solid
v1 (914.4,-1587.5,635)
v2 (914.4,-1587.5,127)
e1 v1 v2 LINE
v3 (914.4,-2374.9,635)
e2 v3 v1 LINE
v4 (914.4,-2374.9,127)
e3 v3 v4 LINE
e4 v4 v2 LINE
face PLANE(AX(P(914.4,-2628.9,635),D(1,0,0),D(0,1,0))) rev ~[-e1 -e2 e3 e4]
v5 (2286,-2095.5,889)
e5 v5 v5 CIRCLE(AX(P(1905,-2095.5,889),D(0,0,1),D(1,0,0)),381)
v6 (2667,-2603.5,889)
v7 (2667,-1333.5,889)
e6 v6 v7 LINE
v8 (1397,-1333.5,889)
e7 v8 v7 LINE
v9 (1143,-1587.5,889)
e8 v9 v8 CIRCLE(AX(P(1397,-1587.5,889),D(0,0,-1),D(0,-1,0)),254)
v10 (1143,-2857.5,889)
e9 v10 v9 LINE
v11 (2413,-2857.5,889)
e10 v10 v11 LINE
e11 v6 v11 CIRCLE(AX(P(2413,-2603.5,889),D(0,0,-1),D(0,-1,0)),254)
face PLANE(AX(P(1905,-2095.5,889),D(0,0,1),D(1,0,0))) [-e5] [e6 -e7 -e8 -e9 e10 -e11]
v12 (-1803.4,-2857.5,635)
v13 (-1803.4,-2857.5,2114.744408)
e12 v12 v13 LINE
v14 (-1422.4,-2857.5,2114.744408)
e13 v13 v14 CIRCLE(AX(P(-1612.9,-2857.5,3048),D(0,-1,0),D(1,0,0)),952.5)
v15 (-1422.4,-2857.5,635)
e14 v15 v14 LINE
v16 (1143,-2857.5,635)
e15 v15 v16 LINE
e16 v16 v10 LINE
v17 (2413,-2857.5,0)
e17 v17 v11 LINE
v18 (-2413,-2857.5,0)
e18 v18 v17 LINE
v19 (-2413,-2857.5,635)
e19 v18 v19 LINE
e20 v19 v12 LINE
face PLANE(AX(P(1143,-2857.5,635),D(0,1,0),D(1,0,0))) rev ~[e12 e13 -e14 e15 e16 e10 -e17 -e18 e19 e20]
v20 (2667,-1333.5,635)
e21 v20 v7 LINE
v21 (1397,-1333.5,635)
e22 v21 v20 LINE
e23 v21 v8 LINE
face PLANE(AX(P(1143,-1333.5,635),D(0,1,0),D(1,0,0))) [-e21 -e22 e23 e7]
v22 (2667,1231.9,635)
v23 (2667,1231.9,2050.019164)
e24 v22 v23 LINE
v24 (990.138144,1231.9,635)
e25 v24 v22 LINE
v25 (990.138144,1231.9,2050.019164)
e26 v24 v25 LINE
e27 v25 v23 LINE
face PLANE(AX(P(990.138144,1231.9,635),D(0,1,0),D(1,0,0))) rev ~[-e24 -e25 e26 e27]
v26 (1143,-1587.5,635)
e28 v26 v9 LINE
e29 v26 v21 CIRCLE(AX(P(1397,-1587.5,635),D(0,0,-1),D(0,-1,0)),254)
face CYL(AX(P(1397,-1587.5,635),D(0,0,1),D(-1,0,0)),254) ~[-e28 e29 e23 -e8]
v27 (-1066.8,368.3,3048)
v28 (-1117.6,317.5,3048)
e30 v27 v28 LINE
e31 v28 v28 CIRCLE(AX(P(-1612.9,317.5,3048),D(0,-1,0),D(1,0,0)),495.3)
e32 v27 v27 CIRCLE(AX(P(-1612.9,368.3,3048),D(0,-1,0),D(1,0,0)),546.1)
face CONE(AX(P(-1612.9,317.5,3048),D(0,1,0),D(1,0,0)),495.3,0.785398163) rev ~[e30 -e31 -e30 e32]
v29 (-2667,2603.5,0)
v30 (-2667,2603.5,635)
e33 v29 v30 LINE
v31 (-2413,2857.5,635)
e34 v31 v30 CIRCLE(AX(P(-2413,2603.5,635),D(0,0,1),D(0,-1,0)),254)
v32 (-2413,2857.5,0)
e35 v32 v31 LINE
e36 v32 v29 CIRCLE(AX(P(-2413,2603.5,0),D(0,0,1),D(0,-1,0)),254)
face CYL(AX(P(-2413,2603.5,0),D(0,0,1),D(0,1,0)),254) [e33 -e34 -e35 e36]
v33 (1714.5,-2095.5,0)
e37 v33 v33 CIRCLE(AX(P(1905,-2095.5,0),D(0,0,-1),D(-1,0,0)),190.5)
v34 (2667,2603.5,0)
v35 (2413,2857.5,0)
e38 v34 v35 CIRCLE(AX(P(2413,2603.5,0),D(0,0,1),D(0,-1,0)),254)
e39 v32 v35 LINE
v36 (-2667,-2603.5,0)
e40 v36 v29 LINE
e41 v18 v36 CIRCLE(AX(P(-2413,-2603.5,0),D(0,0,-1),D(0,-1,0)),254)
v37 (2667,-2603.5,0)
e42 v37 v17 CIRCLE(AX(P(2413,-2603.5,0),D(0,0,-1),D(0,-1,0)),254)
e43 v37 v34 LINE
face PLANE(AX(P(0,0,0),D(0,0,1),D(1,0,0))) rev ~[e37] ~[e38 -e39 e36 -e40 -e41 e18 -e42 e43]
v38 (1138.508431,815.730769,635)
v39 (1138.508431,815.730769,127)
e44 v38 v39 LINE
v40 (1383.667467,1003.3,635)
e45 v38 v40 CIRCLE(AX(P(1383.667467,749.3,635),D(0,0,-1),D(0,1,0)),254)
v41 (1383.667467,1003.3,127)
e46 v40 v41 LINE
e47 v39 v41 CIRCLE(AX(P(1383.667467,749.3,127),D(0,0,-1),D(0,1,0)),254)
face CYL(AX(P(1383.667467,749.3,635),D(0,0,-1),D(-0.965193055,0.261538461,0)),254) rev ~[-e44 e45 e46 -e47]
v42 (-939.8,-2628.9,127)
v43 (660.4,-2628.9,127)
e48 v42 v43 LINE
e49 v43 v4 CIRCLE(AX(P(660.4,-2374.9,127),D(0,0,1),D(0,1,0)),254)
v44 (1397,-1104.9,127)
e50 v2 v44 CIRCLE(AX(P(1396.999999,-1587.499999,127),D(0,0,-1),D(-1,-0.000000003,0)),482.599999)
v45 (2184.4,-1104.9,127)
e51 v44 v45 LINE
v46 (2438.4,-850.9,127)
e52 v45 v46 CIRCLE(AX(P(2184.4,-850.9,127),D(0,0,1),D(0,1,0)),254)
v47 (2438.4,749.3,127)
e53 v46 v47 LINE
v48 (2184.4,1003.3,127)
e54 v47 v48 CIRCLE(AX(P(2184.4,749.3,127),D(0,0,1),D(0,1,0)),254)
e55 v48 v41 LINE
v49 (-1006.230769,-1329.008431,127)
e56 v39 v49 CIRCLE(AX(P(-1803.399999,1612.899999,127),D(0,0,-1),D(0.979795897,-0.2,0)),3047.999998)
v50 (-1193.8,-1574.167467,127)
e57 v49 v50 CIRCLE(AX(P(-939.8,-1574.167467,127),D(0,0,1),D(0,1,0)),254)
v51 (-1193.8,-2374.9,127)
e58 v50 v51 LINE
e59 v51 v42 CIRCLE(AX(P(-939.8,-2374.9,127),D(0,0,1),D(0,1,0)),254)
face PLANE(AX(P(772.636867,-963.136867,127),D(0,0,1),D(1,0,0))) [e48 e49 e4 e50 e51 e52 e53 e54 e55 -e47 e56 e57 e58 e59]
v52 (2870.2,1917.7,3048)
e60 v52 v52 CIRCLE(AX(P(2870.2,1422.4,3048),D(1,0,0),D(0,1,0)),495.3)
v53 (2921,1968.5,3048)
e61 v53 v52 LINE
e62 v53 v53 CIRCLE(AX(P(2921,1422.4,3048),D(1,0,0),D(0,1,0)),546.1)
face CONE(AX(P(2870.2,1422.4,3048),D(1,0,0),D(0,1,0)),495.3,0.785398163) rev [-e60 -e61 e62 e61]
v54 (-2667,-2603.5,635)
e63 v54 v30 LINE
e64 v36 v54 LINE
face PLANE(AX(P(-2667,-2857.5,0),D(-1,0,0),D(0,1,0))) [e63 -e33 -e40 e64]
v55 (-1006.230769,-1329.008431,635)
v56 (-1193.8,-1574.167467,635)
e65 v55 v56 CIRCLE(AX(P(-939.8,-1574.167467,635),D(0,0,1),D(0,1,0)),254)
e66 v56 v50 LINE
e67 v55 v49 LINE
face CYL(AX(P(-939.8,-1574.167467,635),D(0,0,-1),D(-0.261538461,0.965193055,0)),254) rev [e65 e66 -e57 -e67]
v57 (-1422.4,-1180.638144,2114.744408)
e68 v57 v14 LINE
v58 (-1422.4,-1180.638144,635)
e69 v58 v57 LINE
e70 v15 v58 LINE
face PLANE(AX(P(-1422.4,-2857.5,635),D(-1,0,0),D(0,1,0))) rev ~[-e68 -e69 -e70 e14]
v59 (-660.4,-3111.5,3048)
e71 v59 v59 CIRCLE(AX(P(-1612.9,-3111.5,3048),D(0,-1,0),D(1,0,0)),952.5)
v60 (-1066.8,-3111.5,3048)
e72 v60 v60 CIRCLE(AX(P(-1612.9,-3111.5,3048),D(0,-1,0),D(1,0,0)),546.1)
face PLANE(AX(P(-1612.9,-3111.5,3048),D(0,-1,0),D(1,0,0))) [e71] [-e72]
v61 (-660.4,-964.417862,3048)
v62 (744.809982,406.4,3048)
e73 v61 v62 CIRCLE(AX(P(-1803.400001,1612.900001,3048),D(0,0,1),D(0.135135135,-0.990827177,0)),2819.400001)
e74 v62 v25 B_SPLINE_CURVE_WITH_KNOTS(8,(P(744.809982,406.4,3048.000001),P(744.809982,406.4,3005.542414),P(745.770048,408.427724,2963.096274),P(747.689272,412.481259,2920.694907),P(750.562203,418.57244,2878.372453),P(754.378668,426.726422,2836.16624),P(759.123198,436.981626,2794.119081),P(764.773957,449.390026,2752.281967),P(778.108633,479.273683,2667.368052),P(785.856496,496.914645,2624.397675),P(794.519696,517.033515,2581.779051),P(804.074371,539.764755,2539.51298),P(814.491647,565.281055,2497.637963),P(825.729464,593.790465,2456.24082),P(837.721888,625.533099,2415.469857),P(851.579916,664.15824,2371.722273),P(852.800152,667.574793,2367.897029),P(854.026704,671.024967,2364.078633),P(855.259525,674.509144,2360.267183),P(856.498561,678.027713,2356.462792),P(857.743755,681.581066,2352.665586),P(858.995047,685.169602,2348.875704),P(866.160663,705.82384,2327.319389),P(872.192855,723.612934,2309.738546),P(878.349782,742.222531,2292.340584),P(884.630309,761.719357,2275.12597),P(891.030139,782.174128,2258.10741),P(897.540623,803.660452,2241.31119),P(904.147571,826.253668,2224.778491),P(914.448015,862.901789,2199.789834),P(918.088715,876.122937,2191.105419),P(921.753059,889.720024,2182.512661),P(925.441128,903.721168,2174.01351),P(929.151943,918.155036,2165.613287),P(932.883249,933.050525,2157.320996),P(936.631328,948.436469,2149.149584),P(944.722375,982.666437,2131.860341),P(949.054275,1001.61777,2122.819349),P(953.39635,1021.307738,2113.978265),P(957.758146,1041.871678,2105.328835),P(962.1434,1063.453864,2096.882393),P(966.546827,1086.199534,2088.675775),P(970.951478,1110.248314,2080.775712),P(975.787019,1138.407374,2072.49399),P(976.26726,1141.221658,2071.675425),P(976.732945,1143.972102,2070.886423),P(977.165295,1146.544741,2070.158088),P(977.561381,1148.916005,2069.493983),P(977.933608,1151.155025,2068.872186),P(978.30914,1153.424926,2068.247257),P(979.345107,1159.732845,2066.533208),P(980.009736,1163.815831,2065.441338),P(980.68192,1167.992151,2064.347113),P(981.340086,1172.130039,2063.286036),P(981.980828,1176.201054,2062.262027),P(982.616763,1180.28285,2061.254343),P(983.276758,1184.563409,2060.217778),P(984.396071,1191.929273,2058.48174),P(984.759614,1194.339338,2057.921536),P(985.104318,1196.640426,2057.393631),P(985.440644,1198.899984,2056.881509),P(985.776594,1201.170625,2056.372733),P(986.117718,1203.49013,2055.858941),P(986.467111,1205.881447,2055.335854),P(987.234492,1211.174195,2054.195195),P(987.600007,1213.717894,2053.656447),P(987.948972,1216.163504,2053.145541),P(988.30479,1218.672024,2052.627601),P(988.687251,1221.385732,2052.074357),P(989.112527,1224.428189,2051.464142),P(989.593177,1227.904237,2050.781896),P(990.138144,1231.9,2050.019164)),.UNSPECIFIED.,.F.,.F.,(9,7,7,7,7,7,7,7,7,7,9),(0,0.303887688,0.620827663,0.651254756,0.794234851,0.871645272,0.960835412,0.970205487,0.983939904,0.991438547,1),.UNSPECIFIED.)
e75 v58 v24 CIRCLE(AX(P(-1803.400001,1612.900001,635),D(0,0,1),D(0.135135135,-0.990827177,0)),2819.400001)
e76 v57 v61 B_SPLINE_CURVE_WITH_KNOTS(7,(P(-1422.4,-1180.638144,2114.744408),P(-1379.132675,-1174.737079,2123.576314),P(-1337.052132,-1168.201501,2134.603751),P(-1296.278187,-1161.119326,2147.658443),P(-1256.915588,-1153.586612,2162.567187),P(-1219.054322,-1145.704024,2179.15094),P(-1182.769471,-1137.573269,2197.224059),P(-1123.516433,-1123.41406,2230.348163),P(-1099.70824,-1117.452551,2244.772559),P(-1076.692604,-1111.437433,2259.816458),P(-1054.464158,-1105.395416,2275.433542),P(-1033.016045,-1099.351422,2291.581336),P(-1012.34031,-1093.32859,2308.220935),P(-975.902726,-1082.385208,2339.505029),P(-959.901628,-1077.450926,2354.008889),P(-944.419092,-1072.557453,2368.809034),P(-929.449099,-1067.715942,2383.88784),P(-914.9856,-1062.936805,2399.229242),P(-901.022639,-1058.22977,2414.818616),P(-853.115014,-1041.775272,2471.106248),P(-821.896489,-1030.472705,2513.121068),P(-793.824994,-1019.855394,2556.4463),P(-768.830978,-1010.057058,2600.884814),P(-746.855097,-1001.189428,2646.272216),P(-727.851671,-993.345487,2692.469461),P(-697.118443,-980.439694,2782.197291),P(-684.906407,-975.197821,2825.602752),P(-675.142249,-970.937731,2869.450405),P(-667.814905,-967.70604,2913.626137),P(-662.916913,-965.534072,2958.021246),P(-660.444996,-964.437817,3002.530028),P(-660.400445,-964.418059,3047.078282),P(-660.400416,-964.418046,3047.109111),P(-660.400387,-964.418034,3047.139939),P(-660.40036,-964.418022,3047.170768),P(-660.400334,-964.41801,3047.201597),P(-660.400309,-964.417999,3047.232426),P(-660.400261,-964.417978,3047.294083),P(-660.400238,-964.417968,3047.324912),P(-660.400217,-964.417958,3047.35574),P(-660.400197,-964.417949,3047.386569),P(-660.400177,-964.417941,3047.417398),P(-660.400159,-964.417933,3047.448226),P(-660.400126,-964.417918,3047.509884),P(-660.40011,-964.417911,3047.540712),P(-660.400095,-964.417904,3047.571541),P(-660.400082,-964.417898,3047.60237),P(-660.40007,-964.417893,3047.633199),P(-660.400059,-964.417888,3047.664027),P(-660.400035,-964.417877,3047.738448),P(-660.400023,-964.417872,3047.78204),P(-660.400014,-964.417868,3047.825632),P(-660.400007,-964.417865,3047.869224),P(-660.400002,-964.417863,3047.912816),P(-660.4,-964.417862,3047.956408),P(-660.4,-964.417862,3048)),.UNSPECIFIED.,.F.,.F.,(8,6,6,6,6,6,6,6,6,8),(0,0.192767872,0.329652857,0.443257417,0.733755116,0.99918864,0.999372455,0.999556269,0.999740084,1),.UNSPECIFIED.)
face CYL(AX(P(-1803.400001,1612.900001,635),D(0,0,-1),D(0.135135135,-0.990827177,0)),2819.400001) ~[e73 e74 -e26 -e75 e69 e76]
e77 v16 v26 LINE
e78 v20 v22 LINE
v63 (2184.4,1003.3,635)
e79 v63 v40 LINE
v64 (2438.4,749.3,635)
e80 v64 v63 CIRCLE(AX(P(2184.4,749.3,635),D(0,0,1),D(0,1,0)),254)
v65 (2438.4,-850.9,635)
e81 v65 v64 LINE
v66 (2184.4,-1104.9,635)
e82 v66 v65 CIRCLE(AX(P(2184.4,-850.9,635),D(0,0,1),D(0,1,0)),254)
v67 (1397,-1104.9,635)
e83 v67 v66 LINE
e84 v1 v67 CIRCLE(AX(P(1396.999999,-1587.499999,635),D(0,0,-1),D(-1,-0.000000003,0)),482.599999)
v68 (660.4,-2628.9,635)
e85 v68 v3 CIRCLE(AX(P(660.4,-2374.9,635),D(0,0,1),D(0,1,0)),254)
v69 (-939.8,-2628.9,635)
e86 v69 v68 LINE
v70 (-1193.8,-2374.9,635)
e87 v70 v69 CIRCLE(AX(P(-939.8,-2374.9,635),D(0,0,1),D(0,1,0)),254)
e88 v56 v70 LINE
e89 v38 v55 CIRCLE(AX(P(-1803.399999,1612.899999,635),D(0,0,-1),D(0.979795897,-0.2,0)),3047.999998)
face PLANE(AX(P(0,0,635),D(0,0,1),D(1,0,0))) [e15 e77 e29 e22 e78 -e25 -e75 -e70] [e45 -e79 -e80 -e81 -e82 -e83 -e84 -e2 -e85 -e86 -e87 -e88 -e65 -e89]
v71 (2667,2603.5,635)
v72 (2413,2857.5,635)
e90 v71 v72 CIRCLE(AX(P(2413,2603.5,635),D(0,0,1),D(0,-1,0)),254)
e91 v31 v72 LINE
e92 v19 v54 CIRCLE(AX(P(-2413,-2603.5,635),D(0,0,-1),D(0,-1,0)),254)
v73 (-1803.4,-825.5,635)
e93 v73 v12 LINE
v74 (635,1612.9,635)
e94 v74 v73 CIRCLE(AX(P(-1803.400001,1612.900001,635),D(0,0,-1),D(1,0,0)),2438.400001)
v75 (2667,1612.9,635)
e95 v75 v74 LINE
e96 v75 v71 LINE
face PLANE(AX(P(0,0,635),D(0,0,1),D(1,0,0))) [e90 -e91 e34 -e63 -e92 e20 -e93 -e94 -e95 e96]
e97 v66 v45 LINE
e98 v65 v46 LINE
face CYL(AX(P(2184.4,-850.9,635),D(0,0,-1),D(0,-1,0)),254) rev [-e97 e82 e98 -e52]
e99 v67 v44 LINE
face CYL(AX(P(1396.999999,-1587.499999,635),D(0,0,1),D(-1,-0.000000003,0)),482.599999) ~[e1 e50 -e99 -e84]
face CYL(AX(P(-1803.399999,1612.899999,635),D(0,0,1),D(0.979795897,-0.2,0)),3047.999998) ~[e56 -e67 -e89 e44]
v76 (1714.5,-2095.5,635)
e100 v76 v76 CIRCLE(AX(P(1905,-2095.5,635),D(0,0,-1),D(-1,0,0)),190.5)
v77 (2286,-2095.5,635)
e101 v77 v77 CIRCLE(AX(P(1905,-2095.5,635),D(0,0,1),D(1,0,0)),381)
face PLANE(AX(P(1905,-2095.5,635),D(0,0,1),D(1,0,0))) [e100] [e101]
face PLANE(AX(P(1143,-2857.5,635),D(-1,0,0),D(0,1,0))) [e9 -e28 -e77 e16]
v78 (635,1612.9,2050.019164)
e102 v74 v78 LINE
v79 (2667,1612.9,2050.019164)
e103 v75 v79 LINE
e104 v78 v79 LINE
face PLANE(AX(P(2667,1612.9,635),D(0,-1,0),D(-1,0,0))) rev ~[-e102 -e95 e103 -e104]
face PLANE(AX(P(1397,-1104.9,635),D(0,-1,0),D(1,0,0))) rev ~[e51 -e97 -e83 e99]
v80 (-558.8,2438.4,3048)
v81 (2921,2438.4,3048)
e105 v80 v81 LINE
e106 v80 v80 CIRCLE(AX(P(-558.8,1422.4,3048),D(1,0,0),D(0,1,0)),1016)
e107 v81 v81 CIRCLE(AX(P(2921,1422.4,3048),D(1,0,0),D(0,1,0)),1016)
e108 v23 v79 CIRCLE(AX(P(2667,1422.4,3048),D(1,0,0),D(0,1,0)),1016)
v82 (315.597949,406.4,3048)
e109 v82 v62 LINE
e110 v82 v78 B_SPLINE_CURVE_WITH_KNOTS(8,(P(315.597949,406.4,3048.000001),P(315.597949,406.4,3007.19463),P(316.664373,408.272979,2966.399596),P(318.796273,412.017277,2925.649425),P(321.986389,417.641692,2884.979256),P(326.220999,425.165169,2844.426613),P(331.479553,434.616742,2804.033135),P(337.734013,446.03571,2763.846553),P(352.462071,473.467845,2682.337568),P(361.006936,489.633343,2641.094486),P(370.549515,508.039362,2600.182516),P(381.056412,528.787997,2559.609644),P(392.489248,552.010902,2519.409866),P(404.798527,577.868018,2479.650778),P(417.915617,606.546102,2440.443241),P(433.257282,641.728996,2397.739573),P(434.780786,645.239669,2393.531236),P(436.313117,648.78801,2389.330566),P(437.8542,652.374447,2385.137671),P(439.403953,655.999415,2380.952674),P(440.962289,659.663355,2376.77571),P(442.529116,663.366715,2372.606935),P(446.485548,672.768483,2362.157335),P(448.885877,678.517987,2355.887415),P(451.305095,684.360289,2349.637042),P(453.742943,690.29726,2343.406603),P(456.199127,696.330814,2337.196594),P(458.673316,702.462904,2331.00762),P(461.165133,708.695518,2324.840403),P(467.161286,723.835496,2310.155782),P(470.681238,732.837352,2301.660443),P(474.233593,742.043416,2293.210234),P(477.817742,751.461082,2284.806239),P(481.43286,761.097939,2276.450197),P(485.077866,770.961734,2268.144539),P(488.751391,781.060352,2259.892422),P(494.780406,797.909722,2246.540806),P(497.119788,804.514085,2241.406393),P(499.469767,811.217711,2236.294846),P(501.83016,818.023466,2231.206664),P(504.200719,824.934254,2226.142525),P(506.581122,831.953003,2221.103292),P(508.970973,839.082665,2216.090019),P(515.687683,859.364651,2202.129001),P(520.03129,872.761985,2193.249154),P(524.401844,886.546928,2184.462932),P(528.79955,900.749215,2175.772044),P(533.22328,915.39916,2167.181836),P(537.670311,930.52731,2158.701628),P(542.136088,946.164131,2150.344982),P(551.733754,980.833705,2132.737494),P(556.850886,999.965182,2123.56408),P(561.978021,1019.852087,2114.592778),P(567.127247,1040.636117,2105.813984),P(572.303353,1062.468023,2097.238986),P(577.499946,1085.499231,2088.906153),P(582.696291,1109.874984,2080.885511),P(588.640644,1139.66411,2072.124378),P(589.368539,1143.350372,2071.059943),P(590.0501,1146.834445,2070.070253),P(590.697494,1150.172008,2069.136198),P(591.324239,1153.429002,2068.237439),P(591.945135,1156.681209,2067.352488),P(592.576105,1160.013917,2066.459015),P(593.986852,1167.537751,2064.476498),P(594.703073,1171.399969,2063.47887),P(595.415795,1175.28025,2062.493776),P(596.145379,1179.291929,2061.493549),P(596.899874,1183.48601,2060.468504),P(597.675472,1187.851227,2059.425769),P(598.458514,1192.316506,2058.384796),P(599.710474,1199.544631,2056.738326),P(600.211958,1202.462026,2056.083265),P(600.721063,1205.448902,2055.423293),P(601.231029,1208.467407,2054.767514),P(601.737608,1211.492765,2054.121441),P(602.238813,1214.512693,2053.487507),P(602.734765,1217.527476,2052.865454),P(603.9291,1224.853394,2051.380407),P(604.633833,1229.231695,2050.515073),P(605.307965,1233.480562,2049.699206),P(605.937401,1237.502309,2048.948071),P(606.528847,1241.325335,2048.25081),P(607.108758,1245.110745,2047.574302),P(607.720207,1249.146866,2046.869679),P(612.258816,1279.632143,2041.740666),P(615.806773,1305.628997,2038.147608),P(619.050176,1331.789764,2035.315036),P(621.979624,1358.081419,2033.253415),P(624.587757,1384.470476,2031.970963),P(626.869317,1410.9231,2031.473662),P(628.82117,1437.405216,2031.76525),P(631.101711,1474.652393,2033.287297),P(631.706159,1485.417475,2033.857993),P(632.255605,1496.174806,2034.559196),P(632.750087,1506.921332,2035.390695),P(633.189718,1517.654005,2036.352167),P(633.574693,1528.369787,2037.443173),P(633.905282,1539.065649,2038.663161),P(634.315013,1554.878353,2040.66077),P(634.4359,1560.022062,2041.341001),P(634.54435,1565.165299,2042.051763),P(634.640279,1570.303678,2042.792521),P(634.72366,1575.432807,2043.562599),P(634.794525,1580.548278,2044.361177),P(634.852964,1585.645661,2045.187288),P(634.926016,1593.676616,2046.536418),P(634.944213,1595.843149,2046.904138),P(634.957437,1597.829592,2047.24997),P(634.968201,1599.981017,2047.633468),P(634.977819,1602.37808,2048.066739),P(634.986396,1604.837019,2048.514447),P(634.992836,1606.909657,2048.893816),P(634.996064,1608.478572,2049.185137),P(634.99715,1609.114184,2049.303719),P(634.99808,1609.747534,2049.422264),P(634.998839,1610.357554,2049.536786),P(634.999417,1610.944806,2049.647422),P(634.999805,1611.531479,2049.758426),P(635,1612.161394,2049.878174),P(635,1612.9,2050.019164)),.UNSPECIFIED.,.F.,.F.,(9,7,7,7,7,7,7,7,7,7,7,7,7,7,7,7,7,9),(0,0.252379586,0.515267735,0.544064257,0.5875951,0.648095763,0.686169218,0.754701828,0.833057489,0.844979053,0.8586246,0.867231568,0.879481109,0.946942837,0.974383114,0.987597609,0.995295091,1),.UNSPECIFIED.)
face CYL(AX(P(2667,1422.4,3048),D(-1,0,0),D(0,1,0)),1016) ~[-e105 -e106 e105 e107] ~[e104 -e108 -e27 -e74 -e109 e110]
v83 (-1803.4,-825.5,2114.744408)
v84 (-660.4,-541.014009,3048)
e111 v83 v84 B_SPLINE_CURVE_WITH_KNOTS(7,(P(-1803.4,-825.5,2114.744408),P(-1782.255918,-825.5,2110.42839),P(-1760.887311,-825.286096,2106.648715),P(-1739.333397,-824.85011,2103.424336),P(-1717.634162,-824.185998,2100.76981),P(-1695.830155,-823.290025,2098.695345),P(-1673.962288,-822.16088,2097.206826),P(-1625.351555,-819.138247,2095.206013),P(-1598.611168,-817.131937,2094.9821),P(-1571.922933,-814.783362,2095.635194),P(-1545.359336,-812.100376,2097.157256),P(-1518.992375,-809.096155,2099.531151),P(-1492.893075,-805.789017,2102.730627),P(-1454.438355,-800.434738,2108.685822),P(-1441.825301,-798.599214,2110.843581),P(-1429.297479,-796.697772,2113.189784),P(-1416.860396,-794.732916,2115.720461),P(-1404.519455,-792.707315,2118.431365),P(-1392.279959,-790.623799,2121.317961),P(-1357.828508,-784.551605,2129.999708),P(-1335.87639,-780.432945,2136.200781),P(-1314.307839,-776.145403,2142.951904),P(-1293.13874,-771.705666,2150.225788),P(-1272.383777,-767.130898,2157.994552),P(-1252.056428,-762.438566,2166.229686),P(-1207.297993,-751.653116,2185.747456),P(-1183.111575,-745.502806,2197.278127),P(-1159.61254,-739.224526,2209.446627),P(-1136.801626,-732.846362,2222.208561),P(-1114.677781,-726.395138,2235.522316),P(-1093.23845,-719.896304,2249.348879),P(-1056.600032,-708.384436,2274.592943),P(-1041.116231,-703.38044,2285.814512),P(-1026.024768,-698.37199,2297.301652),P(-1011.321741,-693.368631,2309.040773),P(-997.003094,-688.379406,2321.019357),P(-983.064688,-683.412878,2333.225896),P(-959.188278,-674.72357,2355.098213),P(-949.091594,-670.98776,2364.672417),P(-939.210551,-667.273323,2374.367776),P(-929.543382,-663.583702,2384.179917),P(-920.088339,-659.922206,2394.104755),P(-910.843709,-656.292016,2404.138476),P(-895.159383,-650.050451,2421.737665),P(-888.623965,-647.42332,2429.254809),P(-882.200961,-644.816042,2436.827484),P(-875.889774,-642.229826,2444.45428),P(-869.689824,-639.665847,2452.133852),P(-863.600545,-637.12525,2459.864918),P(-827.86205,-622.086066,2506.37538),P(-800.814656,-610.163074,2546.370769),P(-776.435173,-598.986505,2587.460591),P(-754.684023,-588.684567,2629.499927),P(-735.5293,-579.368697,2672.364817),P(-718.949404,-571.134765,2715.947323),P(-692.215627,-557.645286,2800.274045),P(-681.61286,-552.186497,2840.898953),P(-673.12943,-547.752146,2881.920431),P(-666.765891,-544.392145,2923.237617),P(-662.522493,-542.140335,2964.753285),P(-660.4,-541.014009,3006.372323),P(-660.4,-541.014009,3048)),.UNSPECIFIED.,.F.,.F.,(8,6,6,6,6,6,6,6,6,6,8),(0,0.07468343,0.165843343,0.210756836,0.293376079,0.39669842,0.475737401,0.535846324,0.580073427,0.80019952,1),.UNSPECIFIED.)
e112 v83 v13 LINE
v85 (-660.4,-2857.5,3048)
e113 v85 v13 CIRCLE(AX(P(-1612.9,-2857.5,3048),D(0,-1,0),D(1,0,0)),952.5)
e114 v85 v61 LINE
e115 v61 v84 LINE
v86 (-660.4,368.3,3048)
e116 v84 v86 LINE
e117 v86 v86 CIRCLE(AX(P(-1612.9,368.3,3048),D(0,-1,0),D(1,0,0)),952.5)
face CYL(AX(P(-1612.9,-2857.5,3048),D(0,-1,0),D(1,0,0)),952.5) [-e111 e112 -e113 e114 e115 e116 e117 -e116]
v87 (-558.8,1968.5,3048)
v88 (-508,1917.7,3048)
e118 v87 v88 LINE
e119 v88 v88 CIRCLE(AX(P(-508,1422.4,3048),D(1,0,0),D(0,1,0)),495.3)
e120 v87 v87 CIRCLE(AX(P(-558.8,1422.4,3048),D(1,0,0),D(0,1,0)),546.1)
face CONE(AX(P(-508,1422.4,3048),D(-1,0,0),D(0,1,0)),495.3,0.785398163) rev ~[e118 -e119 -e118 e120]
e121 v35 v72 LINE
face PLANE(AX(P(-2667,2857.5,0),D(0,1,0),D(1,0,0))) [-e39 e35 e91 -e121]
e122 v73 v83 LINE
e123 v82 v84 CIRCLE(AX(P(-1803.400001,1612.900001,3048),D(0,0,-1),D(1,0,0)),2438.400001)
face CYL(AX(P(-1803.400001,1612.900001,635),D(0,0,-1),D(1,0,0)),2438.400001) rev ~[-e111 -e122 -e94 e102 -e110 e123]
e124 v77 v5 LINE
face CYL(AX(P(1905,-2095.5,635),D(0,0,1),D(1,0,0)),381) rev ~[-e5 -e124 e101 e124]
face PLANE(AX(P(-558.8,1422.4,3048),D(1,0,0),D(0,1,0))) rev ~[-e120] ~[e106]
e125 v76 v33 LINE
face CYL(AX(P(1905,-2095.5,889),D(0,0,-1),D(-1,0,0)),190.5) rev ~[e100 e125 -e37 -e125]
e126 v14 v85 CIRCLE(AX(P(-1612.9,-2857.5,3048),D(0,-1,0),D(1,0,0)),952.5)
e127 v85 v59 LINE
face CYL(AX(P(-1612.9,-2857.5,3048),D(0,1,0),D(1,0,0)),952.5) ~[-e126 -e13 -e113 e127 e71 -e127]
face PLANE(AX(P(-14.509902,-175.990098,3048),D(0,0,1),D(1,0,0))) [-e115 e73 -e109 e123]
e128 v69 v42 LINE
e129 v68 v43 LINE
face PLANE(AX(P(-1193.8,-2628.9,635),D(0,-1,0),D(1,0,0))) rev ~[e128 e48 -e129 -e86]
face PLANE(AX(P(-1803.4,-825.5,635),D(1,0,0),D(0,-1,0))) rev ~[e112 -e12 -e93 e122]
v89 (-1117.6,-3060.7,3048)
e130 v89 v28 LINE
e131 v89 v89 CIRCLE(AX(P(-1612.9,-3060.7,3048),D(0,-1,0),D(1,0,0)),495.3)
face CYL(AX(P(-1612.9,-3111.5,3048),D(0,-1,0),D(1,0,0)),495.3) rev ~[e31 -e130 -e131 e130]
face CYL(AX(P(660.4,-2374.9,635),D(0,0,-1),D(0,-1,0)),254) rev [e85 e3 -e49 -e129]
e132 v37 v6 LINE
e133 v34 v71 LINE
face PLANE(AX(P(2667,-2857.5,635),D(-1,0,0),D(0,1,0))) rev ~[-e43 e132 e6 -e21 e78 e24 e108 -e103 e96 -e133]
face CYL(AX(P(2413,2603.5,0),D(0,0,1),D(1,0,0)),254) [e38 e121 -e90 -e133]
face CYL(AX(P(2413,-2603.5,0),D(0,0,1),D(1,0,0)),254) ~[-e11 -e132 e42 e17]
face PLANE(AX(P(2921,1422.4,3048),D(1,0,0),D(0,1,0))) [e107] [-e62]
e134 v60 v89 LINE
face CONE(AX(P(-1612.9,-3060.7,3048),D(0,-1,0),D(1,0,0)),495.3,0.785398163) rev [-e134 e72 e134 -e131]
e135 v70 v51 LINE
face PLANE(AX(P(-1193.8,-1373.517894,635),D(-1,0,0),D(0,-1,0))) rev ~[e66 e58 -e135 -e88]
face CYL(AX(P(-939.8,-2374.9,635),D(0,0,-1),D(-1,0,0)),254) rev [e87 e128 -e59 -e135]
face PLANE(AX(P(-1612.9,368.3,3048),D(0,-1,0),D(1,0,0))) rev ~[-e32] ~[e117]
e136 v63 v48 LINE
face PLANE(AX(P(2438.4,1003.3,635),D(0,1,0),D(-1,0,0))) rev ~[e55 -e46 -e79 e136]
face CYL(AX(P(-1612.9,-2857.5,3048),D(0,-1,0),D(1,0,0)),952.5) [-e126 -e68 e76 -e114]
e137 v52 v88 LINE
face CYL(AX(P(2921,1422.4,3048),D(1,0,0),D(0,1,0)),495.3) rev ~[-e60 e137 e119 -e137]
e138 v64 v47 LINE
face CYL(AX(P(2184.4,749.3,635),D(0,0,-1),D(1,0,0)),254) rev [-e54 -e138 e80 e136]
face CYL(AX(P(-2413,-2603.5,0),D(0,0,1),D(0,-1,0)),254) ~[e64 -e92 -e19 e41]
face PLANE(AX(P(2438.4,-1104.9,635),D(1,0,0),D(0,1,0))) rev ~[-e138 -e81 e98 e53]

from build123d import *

# Parameters (mm, degrees)
F0_W            = 5334
F0_H            = 5715
F1_DEPTH        = 635
F3_DEPTH        = 2413
F4_R            = 952.5
F5_DEPTH        = 254
F5_DEPTH_BACK   = 3225.8
F6_R            = 1016
F7_DEPTH        = 254
F7_DEPTH_BACK   = 3225.8
F8_W            = 1524
F8_H            = 1524
F9_DEPTH        = 254
F10_R           = 254
F12_DEPTH       = 508
F14_D           = 381
F14_CBORE_D     = 762
F14_CBORE_DEPTH = 254
F15_R           = 254
F16_R           = 495.3
F17_DEPTH       = 5969.001
F18_R           = 495.3
F19_DEPTH       = 5588.001
F20_SIZE        = 50.8
F21_R           = 254


with BuildPart() as f1:
    # F0 (on Top) → F1 (new body)
    with BuildSketch(Plane.XY):
        Rectangle(F0_W, F0_H)
    extrude(amount=F1_DEPTH)

    # F2 (on face) → F3 (join)
    with BuildSketch(Plane.XY.offset(635)):
        with BuildLine():
            Line((-1803.4, -825.5), (-1803.4, -2857.5))
            Line((-1803.4, -2857.5), (-1422.4, -2857.5))
            Line((-1422.4, -2857.5), (-1422.4, -1180.638144))
            ThreePointArc((-1422.4, -1180.638144), (190.216859, -380.716859), (990.138144, 1231.9))
            Line((990.138144, 1231.9), (2667, 1231.9))
            Line((2667, 1231.9), (2667, 1612.9))
            Line((2667, 1612.9), (635, 1612.9))
            ThreePointArc((635, 1612.9), (-79.190825, -111.309175), (-1803.4, -825.5))
        make_face()
    extrude(amount=F3_DEPTH)

    # F4 (on face) → F5 (join, two sides)
    with BuildSketch(Plane.XZ.offset(2857.5)) as f5_sk:
        with Locations((-1612.9, 3048)):
            Circle(F4_R)
    extrude(amount=F5_DEPTH)
    extrude(f5_sk.sketch, amount=-F5_DEPTH_BACK)

    # F6 (on face) → F7 (join, two sides)
    with BuildSketch(Plane.YZ.offset(2667)) as f7_sk:
        with Locations((1422.4, 3048)):
            Circle(F6_R)
    extrude(amount=F7_DEPTH)
    extrude(f7_sk.sketch, amount=-F7_DEPTH_BACK)

    # F8 (on face) → F9 (join)
    with BuildSketch(Plane.XY.offset(635)):
        with Locations((1905, -2095.5)):
            Rectangle(F8_W, F8_H)
    extrude(amount=F9_DEPTH)

    # F10
    f10_edges = [f1.edges().sort_by_distance(p)[0] for p in [
        (1143, -1333.5, 762),
    ]]
    fillet(f10_edges, radius=F10_R)

    # F11 (on face) → F12 (cut)
    with BuildSketch(Plane.XY.offset(635)):
        with BuildLine():
            ThreePointArc((1183.017894, 1003.3), (351.861469, -542.361469), (-1193.8, -1373.517894))
            Line((-1193.8, -1373.517894), (-1193.8, -2628.9))
            Line((-1193.8, -2628.9), (914.4, -2628.9))
            Line((914.4, -2628.9), (914.4, -1587.5))
            ThreePointArc((914.4, -1587.5), (1055.750267, -1246.250267), (1397, -1104.9))
            Line((1397, -1104.9), (2438.4, -1104.9))
            Line((2438.4, -1104.9), (2438.4, 1003.3))
            Line((2438.4, 1003.3), (1183.017894, 1003.3))
        make_face()
    extrude(amount=-F12_DEPTH, mode=Mode.SUBTRACT)

    # F14 (through all)
    with Locations(Plane.XY.offset(889)):
        with Locations((1905, -2095.5)):
            CounterBoreHole(F14_D / 2, F14_CBORE_D / 2, F14_CBORE_DEPTH)

    # F15
    f15_edges = [f1.edges().sort_by_distance(p)[0] for p in [
        (-1193.8, -1373.517894, 381),
        (1183.017894, 1003.3, 381),
        (-1193.8, -2628.9, 381),
        (2438.4, 1003.3, 381),
        (914.4, -2628.9, 381),
        (2438.4, -1104.9, 381),
    ]]
    fillet(f15_edges, radius=F15_R)

    # F16 (on face) → F17 (cut, through all)
    with BuildSketch(Plane.XZ.offset(3111.5)):
        with Locations((-1612.9, 3048)):
            Circle(F16_R)
    extrude(amount=-F17_DEPTH, mode=Mode.SUBTRACT)

    # F18 (on face) → F19 (cut, through all)
    with BuildSketch(Plane.YZ.offset(2921)):
        with Locations((1422.4, 3048)):
            Circle(F18_R)
    extrude(amount=-F19_DEPTH, mode=Mode.SUBTRACT)

    # F20
    f20_edges = [f1.edges().sort_by_distance(p)[0] for p in [
        (-2108.2, -3111.5, 3048),
        (2921, 927.1, 3048),
        (-2108.2, 368.3, 3048),
        (-558.8, 927.1, 3048),
    ]]
    chamfer(f20_edges, length=F20_SIZE)

    # F21
    f21_edges = [f1.edges().sort_by_distance(p)[0] for p in [
        (2667, -2857.5, 444.5),
        (2667, 2857.5, 317.5),
        (-2667, -2857.5, 317.5),
        (-2667, 2857.5, 317.5),
    ]]
    fillet(f21_edges, radius=F21_R)


solid = f1.part
